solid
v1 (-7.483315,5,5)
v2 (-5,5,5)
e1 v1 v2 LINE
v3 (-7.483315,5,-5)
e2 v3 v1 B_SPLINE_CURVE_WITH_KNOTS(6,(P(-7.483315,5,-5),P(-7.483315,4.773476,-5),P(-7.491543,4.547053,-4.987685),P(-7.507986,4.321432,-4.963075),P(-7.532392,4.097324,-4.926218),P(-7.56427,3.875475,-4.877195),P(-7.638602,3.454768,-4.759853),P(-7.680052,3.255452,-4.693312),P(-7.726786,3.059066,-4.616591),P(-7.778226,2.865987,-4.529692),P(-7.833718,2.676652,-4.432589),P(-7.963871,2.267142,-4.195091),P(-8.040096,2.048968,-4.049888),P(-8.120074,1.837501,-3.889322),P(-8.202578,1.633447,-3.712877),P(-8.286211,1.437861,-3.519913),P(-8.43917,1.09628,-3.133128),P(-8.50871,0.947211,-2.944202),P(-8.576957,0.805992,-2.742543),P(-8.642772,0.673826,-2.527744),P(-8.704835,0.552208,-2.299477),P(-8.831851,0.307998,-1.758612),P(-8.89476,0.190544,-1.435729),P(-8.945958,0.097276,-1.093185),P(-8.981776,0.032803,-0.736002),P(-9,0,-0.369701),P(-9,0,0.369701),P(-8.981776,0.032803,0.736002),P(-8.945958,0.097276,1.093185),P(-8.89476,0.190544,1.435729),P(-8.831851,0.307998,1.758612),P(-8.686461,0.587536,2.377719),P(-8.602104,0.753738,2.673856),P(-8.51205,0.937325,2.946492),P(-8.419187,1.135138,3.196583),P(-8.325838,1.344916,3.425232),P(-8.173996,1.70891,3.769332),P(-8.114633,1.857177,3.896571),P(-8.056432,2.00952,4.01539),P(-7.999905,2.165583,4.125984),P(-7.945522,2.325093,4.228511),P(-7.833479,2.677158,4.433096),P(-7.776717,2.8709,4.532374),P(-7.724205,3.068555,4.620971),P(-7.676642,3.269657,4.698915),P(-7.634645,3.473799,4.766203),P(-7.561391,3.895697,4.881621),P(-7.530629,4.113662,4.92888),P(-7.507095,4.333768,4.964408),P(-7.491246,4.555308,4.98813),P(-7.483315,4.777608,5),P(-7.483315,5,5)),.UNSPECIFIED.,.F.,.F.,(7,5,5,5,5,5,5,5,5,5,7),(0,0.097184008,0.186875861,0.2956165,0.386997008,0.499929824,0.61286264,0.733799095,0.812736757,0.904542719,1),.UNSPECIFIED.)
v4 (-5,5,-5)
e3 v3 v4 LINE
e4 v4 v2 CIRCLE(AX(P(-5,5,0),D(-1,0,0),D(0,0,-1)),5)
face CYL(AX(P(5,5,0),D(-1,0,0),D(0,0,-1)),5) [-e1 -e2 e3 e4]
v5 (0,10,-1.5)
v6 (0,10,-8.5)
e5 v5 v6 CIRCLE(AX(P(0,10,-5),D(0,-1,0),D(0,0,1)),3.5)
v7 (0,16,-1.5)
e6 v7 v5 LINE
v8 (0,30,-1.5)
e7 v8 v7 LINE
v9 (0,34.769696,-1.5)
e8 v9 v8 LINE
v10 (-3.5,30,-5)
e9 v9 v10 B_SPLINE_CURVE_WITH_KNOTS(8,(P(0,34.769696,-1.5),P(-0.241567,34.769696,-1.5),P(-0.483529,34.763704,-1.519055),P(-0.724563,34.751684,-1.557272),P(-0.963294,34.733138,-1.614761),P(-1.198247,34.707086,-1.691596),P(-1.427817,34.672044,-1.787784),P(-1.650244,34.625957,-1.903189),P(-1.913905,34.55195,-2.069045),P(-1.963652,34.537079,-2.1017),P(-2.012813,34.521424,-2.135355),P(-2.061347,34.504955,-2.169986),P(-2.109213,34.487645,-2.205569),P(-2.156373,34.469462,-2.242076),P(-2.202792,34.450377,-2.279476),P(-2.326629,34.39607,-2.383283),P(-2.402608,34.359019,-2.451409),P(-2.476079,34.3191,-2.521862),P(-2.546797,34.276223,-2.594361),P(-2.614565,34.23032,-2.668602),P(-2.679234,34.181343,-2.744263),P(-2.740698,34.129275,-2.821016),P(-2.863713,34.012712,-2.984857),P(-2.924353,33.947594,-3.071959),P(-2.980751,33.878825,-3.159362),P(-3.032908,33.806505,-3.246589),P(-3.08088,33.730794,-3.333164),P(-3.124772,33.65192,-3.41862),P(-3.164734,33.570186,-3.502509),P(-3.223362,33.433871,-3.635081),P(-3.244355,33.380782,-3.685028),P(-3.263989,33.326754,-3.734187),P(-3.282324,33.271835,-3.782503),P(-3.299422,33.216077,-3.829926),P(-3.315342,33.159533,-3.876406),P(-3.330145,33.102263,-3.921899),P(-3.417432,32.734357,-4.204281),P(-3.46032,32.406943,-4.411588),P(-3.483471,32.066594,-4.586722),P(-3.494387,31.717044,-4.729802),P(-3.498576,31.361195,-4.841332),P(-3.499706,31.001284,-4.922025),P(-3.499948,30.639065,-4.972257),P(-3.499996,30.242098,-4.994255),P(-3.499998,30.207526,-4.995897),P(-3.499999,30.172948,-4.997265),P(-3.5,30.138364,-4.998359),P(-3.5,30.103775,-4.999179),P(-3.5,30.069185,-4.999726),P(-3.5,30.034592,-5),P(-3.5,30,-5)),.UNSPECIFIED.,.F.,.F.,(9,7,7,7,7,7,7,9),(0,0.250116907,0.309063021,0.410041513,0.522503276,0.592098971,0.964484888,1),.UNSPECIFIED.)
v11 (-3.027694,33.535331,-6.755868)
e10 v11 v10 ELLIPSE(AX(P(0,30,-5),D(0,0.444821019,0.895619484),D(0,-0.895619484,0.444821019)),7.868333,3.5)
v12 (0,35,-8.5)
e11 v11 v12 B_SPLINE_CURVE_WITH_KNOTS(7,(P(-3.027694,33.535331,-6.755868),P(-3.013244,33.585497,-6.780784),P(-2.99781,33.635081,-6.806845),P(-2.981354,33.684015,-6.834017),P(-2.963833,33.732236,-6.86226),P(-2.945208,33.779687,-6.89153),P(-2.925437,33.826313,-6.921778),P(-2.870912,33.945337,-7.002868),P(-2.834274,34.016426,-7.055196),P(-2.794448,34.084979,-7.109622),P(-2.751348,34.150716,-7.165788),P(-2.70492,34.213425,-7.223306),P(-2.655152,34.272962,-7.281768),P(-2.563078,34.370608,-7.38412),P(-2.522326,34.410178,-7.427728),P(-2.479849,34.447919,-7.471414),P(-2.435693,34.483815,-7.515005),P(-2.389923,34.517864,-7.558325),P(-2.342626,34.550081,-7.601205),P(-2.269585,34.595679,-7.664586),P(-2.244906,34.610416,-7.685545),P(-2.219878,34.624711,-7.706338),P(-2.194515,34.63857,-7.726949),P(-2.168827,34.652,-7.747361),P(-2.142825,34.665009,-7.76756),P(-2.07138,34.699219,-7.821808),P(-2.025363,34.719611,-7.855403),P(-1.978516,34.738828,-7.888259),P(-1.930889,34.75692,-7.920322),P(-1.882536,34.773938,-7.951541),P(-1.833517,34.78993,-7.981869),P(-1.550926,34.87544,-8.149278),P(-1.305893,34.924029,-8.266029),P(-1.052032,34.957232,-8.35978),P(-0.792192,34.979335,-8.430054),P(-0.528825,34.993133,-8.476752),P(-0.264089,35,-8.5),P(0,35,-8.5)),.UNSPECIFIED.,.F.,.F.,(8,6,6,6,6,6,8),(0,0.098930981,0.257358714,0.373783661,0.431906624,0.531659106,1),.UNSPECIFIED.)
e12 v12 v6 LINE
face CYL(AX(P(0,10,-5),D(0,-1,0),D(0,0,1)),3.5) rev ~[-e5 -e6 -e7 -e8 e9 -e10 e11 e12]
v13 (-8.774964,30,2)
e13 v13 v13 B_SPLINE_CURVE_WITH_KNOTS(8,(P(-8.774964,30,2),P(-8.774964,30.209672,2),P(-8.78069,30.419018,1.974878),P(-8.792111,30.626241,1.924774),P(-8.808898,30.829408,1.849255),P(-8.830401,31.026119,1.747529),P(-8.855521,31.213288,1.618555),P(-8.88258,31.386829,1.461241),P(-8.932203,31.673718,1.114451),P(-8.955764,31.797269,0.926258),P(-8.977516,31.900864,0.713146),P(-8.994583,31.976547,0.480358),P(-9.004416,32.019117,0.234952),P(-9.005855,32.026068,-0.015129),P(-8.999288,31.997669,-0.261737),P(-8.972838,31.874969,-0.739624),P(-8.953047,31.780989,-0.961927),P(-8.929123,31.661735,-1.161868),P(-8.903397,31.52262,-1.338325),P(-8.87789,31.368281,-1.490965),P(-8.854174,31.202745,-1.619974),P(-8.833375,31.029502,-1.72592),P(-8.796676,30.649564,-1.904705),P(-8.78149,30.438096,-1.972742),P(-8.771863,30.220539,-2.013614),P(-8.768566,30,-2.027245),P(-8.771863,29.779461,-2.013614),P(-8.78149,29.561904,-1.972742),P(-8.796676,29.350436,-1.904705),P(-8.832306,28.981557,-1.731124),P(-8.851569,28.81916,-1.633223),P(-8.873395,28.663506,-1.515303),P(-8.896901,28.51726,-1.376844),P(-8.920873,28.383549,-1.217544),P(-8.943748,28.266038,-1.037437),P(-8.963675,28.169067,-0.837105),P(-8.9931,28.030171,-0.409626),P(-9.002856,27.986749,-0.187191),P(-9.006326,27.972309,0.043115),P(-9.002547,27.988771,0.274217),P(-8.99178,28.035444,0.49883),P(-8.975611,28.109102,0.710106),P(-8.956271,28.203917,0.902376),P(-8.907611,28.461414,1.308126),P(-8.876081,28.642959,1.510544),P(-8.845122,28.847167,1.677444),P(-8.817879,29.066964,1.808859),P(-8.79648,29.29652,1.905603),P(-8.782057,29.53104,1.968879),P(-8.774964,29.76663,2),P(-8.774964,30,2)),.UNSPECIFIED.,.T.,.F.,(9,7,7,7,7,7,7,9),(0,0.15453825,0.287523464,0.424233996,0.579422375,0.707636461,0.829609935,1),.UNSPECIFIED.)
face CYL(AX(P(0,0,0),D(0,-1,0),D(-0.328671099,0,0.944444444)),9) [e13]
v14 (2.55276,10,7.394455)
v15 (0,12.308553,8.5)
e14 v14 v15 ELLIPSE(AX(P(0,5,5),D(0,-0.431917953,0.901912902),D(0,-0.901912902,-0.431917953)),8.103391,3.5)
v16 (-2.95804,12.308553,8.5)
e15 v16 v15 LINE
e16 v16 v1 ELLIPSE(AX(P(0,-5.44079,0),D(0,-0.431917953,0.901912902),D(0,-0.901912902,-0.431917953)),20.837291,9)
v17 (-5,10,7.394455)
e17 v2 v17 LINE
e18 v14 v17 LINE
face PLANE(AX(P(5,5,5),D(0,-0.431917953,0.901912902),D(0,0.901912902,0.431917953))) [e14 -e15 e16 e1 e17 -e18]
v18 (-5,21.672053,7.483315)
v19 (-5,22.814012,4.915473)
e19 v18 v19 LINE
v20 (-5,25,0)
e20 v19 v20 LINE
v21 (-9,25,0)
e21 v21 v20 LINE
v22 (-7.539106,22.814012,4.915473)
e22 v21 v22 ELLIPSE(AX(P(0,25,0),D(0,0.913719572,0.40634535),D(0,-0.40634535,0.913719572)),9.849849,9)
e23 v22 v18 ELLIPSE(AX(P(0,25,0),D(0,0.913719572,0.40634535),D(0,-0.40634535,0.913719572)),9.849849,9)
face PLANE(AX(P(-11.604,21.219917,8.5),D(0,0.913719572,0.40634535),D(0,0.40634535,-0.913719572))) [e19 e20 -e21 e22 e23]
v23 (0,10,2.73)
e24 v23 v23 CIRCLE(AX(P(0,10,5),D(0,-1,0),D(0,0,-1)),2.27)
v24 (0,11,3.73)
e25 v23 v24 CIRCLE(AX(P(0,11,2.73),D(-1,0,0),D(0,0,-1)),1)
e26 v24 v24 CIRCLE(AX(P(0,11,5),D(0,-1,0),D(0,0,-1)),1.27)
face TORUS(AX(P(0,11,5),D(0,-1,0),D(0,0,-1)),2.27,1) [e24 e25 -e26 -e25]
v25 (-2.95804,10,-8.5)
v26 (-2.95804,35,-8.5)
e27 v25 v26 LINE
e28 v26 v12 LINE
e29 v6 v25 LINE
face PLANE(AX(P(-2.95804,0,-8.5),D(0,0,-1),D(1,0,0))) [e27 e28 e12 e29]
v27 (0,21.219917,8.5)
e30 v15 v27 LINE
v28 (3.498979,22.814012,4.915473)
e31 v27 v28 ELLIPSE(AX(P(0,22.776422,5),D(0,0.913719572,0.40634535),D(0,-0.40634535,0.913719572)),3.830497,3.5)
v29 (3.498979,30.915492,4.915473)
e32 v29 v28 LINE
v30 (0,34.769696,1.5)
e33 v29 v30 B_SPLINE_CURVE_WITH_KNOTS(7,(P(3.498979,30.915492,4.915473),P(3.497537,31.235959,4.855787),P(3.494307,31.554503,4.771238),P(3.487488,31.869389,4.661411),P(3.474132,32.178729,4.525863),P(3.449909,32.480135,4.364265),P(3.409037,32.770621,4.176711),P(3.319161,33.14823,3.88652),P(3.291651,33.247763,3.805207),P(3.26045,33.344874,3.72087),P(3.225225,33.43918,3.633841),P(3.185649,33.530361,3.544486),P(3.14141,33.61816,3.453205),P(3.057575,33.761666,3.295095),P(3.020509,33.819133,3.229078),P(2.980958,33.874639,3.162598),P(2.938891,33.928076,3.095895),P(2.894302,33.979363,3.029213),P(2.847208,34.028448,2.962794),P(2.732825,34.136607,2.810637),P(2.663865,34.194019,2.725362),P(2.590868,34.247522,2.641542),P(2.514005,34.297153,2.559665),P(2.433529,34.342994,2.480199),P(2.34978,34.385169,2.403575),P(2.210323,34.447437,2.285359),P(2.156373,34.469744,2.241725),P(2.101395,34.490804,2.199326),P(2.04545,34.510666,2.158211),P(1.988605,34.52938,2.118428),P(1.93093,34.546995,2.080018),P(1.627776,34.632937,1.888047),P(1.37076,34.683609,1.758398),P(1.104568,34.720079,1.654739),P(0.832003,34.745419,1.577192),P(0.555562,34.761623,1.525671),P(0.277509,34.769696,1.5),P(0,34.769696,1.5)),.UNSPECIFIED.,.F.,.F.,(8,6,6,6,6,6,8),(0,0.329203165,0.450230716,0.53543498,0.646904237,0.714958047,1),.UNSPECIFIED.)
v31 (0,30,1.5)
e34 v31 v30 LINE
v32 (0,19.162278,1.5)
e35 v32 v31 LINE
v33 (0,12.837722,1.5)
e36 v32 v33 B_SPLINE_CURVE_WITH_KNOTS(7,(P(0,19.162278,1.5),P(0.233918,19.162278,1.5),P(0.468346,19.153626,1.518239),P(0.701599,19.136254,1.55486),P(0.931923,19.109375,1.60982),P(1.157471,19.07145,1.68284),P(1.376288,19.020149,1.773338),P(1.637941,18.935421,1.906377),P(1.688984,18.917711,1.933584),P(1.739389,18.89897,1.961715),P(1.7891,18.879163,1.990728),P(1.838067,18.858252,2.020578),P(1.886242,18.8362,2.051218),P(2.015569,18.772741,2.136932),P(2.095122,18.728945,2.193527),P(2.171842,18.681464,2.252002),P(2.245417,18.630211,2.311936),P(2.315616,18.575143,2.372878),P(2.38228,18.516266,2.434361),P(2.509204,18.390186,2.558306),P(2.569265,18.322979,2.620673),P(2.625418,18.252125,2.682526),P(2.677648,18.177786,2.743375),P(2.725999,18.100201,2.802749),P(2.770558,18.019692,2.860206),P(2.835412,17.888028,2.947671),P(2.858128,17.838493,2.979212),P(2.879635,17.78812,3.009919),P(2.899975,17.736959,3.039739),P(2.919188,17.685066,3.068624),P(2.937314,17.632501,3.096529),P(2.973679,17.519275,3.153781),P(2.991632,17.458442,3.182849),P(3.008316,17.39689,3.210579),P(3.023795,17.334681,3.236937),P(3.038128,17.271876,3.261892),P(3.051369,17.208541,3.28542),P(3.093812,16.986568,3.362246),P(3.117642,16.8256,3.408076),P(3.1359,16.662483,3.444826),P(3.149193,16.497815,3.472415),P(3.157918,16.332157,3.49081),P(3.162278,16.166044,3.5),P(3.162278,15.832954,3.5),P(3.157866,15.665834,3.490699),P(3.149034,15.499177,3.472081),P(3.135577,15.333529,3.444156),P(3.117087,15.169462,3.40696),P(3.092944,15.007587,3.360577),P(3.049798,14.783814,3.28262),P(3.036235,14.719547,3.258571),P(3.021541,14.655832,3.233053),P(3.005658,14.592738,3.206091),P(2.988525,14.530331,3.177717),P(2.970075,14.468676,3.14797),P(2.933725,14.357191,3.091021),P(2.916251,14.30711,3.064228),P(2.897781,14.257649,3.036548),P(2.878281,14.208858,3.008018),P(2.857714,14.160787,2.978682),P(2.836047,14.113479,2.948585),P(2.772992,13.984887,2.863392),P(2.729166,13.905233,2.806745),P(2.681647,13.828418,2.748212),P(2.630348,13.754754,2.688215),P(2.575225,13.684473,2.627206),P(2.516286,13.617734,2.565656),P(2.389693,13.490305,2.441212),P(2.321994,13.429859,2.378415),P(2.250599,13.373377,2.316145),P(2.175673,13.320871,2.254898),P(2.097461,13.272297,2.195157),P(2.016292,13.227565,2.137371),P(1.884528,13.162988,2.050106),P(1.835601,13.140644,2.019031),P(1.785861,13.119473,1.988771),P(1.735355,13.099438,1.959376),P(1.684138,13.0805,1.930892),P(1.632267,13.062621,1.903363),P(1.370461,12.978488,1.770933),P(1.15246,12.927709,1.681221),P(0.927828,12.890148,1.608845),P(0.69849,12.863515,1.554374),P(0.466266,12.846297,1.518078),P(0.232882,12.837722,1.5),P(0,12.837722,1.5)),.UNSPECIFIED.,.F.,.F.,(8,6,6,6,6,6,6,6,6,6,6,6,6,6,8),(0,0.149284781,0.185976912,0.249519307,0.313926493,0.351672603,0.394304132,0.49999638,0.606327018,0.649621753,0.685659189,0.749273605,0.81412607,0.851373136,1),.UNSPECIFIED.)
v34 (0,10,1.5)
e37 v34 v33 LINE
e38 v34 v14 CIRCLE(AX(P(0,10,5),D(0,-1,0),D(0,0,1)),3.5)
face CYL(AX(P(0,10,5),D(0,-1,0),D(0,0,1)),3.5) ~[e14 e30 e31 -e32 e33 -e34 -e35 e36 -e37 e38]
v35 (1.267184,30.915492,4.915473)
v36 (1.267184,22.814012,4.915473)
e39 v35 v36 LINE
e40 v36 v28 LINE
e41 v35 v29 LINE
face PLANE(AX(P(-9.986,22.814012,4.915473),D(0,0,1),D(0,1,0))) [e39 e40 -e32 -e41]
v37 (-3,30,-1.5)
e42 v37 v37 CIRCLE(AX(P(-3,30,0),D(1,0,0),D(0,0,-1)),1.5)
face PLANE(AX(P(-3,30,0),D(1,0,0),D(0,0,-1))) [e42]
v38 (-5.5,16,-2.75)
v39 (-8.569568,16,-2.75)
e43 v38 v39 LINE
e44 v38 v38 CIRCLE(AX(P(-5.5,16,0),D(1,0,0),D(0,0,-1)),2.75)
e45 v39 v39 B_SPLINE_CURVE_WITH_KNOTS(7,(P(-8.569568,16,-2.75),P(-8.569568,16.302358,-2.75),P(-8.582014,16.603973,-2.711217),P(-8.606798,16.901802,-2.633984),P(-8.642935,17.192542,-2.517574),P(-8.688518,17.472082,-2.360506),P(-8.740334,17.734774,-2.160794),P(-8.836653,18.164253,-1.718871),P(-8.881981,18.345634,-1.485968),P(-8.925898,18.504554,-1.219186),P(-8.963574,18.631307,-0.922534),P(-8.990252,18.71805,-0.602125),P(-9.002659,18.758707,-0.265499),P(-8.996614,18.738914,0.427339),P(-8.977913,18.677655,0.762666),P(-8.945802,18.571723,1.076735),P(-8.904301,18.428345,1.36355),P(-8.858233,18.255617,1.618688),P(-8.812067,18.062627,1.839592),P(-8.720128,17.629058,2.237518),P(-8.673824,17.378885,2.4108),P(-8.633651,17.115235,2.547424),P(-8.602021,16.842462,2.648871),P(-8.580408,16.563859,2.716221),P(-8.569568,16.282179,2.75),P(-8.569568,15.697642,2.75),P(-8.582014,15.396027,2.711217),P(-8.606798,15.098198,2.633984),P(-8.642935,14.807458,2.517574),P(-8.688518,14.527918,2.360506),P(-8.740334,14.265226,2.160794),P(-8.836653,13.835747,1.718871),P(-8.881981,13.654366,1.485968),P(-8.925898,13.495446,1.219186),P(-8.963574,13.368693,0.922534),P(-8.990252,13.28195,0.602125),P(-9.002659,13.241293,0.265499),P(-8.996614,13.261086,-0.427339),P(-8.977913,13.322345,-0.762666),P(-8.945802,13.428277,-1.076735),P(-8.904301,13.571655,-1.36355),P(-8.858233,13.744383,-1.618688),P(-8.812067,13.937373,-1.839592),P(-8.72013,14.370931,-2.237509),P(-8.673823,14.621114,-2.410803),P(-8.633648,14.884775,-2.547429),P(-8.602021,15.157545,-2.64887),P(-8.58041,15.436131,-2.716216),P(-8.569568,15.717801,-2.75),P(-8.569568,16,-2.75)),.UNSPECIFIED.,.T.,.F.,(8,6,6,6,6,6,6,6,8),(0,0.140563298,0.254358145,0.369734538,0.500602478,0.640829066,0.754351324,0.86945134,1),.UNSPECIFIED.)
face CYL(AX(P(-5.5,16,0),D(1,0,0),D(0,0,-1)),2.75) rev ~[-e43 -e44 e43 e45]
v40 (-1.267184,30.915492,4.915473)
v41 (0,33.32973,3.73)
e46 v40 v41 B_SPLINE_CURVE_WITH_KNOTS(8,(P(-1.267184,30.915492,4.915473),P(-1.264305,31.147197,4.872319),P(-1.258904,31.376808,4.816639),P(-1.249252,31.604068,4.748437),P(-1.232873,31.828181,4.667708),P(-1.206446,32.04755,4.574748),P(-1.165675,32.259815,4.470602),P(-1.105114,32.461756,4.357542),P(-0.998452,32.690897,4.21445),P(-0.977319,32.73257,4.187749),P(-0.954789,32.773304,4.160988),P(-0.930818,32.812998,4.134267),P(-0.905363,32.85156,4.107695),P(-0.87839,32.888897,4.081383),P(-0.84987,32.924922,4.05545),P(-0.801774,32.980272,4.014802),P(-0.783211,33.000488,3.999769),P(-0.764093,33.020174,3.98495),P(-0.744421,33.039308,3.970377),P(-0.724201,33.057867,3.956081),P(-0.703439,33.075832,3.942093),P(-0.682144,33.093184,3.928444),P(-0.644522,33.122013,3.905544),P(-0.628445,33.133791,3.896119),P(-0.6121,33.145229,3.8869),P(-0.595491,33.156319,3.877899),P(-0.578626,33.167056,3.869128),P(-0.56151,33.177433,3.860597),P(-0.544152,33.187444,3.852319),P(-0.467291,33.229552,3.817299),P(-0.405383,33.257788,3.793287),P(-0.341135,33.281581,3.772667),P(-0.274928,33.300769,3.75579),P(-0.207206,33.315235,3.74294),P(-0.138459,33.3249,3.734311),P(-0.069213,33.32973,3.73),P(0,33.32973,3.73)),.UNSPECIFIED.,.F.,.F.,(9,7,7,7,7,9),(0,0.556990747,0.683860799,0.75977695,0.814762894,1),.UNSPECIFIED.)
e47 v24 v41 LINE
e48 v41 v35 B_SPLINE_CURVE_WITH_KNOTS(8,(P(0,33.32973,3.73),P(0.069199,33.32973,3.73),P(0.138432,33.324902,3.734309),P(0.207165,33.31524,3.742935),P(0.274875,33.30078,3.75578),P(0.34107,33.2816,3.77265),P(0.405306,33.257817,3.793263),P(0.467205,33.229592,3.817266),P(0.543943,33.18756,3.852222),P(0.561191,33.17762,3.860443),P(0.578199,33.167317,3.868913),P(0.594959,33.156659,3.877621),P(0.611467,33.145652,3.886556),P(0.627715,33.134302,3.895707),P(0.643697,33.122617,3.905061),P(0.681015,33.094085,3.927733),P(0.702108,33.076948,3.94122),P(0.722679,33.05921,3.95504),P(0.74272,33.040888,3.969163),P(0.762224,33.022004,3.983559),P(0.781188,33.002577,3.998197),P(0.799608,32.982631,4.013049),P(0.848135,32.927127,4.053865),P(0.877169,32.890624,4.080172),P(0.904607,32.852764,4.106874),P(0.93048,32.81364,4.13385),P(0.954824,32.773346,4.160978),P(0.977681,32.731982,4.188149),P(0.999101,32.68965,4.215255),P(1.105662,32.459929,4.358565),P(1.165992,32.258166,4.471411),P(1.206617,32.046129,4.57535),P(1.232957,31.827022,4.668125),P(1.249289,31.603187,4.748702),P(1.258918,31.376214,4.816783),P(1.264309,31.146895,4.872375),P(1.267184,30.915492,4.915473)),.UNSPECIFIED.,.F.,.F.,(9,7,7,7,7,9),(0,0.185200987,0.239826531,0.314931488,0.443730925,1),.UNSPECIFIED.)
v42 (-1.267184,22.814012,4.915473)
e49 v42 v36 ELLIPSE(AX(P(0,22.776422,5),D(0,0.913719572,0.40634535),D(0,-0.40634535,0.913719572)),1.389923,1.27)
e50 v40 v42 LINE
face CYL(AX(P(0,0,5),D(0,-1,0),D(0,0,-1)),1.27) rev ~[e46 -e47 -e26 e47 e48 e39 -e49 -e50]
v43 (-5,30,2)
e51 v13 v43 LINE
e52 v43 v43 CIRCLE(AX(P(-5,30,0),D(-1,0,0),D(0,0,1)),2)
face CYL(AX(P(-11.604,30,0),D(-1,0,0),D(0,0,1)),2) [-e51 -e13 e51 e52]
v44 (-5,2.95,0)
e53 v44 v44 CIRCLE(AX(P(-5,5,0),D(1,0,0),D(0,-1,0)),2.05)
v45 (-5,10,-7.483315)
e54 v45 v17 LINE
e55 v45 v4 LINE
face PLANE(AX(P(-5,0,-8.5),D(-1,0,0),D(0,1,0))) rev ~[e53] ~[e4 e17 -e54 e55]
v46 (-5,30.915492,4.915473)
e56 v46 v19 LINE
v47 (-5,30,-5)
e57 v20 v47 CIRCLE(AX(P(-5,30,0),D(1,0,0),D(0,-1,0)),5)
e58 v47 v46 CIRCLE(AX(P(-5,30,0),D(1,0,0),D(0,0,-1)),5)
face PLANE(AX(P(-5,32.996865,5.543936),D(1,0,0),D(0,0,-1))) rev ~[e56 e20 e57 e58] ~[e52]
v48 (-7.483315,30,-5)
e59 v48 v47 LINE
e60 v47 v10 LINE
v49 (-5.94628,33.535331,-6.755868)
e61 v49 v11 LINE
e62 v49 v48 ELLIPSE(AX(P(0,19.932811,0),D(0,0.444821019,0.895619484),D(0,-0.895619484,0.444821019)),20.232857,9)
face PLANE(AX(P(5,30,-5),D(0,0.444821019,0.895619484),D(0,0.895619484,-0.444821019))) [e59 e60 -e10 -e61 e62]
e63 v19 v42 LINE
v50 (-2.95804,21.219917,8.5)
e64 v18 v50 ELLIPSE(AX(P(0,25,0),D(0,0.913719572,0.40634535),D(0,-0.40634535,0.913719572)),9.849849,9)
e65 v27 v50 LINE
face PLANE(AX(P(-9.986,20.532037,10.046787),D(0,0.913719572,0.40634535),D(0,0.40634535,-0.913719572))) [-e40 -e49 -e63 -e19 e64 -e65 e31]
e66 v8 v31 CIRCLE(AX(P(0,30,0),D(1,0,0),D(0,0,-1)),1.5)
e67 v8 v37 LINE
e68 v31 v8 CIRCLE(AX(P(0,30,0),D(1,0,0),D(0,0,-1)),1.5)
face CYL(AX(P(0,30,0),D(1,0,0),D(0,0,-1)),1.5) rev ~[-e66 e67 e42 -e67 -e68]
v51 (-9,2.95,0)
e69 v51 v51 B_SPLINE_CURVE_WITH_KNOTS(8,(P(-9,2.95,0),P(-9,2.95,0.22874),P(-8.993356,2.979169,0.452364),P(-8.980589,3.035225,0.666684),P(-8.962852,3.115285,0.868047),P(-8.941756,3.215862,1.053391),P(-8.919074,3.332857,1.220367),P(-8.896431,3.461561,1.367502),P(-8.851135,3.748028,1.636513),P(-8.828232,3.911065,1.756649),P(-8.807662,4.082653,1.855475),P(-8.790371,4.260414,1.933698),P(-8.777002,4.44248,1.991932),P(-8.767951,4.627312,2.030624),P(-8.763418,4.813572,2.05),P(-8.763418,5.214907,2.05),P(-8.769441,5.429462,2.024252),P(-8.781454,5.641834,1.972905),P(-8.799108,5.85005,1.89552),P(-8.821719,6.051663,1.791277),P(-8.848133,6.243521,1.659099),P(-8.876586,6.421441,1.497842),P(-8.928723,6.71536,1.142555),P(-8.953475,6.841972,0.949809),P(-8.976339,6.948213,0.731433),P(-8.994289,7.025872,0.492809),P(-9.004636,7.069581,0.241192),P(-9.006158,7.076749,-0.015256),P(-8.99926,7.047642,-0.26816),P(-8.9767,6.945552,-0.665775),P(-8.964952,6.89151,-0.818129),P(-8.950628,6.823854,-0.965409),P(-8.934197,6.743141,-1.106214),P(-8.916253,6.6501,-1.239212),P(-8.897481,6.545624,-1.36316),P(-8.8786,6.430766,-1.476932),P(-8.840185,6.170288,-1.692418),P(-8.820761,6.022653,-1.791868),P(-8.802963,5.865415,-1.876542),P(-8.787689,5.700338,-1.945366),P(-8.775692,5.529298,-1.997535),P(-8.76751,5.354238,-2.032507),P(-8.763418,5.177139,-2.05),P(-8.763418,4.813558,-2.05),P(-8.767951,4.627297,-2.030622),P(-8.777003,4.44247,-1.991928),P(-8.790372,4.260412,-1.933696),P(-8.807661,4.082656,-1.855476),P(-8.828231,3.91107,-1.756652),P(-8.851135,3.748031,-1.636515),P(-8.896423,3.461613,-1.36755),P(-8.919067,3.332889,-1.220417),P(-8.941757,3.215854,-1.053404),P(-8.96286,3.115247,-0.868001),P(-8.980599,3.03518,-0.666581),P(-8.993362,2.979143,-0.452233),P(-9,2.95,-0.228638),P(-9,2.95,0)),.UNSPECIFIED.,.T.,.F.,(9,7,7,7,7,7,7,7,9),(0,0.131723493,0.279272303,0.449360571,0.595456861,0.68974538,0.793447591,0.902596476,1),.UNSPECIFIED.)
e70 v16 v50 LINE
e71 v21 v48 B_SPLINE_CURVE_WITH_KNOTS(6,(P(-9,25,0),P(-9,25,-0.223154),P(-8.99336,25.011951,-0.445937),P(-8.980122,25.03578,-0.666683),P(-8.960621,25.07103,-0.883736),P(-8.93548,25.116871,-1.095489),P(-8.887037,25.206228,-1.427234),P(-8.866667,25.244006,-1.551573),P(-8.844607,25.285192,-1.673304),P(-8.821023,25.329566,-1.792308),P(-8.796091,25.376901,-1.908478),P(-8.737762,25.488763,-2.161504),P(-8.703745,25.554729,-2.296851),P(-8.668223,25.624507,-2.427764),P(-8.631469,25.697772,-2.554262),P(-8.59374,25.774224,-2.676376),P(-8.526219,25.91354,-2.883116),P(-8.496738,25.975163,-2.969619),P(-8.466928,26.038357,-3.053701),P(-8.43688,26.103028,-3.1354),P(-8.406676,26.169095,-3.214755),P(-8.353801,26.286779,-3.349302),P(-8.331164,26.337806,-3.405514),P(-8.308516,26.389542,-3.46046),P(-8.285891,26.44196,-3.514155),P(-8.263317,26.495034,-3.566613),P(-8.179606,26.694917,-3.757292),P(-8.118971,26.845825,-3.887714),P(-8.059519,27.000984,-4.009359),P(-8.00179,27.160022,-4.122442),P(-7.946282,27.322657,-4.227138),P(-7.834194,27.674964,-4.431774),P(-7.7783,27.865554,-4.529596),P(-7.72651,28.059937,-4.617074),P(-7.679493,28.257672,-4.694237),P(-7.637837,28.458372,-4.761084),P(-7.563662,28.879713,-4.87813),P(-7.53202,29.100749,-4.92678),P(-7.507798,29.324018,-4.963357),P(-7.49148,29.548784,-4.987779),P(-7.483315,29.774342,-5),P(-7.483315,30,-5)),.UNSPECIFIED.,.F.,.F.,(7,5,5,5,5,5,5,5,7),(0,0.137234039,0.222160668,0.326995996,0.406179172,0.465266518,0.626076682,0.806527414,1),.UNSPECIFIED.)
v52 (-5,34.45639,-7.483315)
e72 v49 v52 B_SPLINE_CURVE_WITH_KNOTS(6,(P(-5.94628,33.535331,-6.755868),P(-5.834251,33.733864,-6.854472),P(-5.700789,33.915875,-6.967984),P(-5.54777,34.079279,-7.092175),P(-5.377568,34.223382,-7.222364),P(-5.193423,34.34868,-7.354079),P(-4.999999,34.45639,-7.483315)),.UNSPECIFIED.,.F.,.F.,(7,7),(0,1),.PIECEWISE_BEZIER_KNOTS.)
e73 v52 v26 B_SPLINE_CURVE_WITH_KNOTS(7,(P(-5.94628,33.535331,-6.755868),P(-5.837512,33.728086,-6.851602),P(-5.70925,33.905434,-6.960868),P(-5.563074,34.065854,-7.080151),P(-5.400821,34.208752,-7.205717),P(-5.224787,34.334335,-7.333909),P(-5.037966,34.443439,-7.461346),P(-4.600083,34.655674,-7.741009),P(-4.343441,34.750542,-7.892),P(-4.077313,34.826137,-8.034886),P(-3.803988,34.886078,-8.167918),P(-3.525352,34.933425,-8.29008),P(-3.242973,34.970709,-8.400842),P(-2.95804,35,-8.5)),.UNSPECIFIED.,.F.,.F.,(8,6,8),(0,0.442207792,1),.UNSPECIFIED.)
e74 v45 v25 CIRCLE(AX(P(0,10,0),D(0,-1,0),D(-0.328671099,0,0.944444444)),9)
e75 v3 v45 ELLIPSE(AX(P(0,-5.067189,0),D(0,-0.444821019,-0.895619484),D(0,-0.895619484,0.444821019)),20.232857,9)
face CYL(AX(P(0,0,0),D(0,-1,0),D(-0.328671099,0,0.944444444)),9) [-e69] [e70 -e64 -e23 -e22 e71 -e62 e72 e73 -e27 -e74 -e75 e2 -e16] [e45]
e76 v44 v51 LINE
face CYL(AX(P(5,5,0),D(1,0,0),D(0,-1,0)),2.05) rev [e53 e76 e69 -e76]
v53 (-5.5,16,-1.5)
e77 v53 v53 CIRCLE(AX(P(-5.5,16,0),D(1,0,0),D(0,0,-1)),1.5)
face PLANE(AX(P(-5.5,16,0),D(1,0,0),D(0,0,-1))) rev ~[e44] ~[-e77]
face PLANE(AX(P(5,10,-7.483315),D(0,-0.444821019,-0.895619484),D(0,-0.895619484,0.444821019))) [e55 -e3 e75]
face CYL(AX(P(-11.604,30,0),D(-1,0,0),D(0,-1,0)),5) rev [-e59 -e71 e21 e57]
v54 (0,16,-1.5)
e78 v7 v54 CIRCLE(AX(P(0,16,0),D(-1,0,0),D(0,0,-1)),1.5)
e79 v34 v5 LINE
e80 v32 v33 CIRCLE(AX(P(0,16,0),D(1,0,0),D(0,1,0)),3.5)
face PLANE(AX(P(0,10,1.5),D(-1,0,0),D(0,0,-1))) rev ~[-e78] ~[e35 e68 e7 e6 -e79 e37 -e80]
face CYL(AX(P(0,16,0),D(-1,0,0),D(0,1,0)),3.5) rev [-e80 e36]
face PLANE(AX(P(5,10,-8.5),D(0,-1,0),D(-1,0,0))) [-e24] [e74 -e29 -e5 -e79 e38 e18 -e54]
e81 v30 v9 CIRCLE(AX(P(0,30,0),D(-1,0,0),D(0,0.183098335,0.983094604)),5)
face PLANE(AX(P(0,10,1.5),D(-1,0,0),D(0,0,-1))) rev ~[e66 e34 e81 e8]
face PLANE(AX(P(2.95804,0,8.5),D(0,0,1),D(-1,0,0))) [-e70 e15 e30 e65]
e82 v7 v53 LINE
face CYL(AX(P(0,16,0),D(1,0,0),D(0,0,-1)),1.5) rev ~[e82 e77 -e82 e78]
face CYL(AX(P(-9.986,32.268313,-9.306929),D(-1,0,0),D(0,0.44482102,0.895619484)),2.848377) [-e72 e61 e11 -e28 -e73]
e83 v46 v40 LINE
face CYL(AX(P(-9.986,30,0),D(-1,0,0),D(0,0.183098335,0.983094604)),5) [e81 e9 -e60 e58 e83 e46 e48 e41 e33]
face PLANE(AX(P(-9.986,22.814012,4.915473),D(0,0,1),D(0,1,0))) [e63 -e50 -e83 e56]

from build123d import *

# Parameters (mm, degrees)
BOSS_EXTRUDE1_DEPTH = 35
SKETCH2_R           = 1.27
CUT_EXTRUDE1_DEPTH  = 35
CUT_EXTRUDE2_REACH  = 41.937
SKETCH3_W           = 10
SKETCH3_H           = 10
SKETCH4_R           = 2.049999964
CUT_EXTRUDE3_DEPTH  = 17.5
CUT_EXTRUDE5_START  = -7.95804
SKETCH6_R           = 2
CUT_EXTRUDE5_DEPTH  = 9.6
FILLET3_R           = 1
CUT_EXTRUDE6_START  = 8.64596
SKETCH6_3_R         = 2
CUT_EXTRUDE6_DEPTH  = 6.604
CUT_EXTRUDE7_START  = -14.986
CUT_EXTRUDE7_DEPTH  = 14.986
CUT_EXTRUDE8_DEPTH  = 31.496
SKETCH9_R           = 1.5
CUT_EXTRUDE9_DEPTH  = 14.224
CUT_EXTRUDE11_DEPTH = 6.048
SKETCH13_R          = 1.5
CUT_EXTRUDE12_DEPTH = 3
CUT_EXTRUDE13_START = -5.5
SKETCH15_R          = 2.75
CUT_EXTRUDE13_DEPTH = 7.572


with BuildPart() as part:
    # Sketch1 → Boss-Extrude1 (new body)
    with BuildSketch(Plane(origin=(0, 0, 0), x_dir=(1, 0, 0), z_dir=(0, 1, 0))):
        with BuildLine():
            Line((-2.958039892, 8.5), (2.958039892, 8.5))
            ThreePointArc((2.958039892, 8.5), (9, 0), (2.958039892, -8.5))
            Line((2.958039892, -8.5), (-2.958039892, -8.5))
            ThreePointArc((-2.958039892, -8.5), (-9, 0), (-2.958039892, 8.5))
        make_face()
    extrude(amount=BOSS_EXTRUDE1_DEPTH)

    # Sketch2 → Cut-Extrude1 (cut)
    with BuildSketch(Plane.XZ):
        with Locations(Location((0, -5, 0), (0, 0, 270))):
            Circle(SKETCH2_R)
        with Locations(Location((0, 5, 0), (0, 0, 270))):
            Circle(SKETCH2_R)
    extrude(amount=-CUT_EXTRUDE1_DEPTH, mode=Mode.SUBTRACT)

    # Cut-Extrude2: up to this face of the body (flat: up to its plane)
    cut_extrude2_end = Plane(part.part.faces().sort_by_distance((0, 17.5, 8.5))[0])
    # Sketch3 → Cut-Extrude2 (cut, up to the picked face)
    with BuildSketch(Plane(origin=(0, 0, -8.5), x_dir=(-1, 0, 0), z_dir=(0, 0, -1)), mode=Mode.PRIVATE) as cut_extrude2_sk1:
        with Locations((0, 5)):
            Rectangle(SKETCH3_W, SKETCH3_H)
    cut_extrude2_tool1 = split(extrude(cut_extrude2_sk1.sketch, amount=-CUT_EXTRUDE2_REACH, mode=Mode.PRIVATE), bisect_by=cut_extrude2_end, keep=Keep.BOTH, mode=Mode.PRIVATE)
    add(cut_extrude2_tool1.solids().sort_by(Axis((0, 5, -8.5), (0, 0, 1)))[0], mode=Mode.SUBTRACT)

    # Sketch4 → Cut-Extrude3 (cut, symmetric)
    with BuildSketch(Plane.ZY.offset(-5)):
        with Locations(Location((0, 5, 0), (0, 0, 270))):
            Circle(SKETCH4_R)
        with BuildLine():
            Line((-7.483314774, 10), (-5, 5))
            ThreePointArc((-5, 5), (0, 0), (5, 5))
            Line((5, 5), (8.5, 12.308552788))
            Line((8.5, 12.308552788), (9.857943437, -1.822240199))
            Line((9.857943437, -1.822240199), (-9.857943437, -1.822240199))
            Line((-9.857943437, -1.822240199), (-7.483314774, 10))
        make_face()
    extrude(amount=CUT_EXTRUDE3_DEPTH, both=True, mode=Mode.SUBTRACT)

    # Sketch6 → Cut-Extrude5 (cut)
    with BuildSketch(Plane.ZY.offset(2.958039892).offset(CUT_EXTRUDE5_START)):
        with BuildLine():
            Line((8.5, 21.219917379), (0, 25))
            ThreePointArc((0, 25), (-3.535533906, 26.464466094), (-5, 30))
            Line((-5, 30), (-6.755867779, 33.535330675))
            ThreePointArc((-6.755867779, 33.535330675), (-7.475170692, 34.449576169), (-8.5, 35))
            Line((-8.5, 35), (17.803004008, 42.886049022))
            Line((17.803004008, 42.886049022), (8.5, 21.219917379))
        make_face()
        with Locations((0, 30)):
            Circle(SKETCH6_R, mode=Mode.SUBTRACT)
    extrude(amount=-CUT_EXTRUDE5_DEPTH, mode=Mode.SUBTRACT)

    # Fillet3
    fillet3_edges = [part.edges().sort_by_distance(p)[0] for p in [
        (0, 10, -3.73),
        (0, 10, 6.27),
    ]]
    fillet(fillet3_edges, radius=FILLET3_R)

    # Sketch6<3> → Cut-Extrude6 (cut)
    with BuildSketch(Plane.ZY.offset(2.958039892).offset(CUT_EXTRUDE6_START)):
        with BuildLine():
            Line((8.5, 21.219917379), (0, 25))
            ThreePointArc((0, 25), (-3.535533906, 26.464466094), (-5, 30))
            Line((-5, 30), (-6.755867779, 33.535330675))
            ThreePointArc((-6.755867779, 33.535330675), (-7.475170692, 34.449576169), (-8.5, 35))
            Line((-8.5, 35), (17.803004008, 42.886049022))
            Line((17.803004008, 42.886049022), (8.5, 21.219917379))
        make_face()
        with Locations((0, 30)):
            Circle(SKETCH6_3_R, mode=Mode.SUBTRACT)
    extrude(amount=-CUT_EXTRUDE6_DEPTH, mode=Mode.SUBTRACT)

    # Sketch7 → Cut-Extrude7 (cut)
    with BuildSketch(Plane(origin=(5, 0, 0), x_dir=(0, 0, -1), z_dir=(1, 0, 0)).offset(CUT_EXTRUDE7_START)):
        with BuildLine():
            Line((5, 30), (6.755867779, 33.535330675))
            ThreePointArc((6.755867779, 33.535330675), (7.475170692, 34.449576169), (8.5, 35))
            Line((8.5, 35), (-8.341946035, 47.536710192))
            Line((-8.341946035, 47.536710192), (-13.168237897, 33.528506419))
            Line((-13.168237897, 33.528506419), (-10.04678731, 20.532036929))
            Line((-10.04678731, 20.532036929), (-4.915473018, 22.814012455))
            Line((-4.915473018, 22.814012455), (-4.915473018, 30.915491676))
            ThreePointArc((-4.915473018, 30.915491676), (0.459692783, 34.97882341), (5, 30))
        make_face()
    extrude(amount=CUT_EXTRUDE7_DEPTH, mode=Mode.SUBTRACT)

    # Sketch8 → Cut-Extrude8 (cut, symmetric)
    with BuildSketch(Plane.XZ.offset(-10)):
        with BuildLine():
            Line((0, 1.5), (0, -1.5))
            ThreePointArc((0, -1.5), (-3.5, -5), (0, -8.5))
            Line((0, -8.5), (-4.790142834, -16.013604782))
            Line((-4.790142834, -16.013604782), (34.96476625, -1.5))
            Line((34.96476625, -1.5), (-4.790142834, 15.219000931))
            Line((-4.790142834, 15.219000931), (0, 8.5))
            ThreePointArc((0, 8.5), (3.5, 5), (0, 1.5))
        make_face()
    extrude(amount=CUT_EXTRUDE8_DEPTH, both=True, mode=Mode.SUBTRACT)

    # Sketch9 → Cut-Extrude9 (cut)
    with BuildSketch(Plane(origin=(0, 0, 0), x_dir=(0, 0, -1), z_dir=(1, 0, 0))):
        with Locations((0, 16)):
            Circle(SKETCH9_R)
    extrude(amount=-CUT_EXTRUDE9_DEPTH, mode=Mode.SUBTRACT)

    # Sketch14 → Cut-Extrude11 (cut)
    with BuildSketch(Plane(origin=(0, 0, 0), x_dir=(0, 0, -1), z_dir=(1, 0, 0))):
        with BuildLine():
            Line((0, 12.5), (0, 19.5))
            ThreePointArc((0, 19.5), (-3.5, 16), (0, 12.5))
        make_face()
    extrude(amount=CUT_EXTRUDE11_DEPTH, mode=Mode.SUBTRACT)

    # Sketch13 → Cut-Extrude12 (cut)
    with BuildSketch(Plane(origin=(0, 0, 0), x_dir=(0, 0, -1), z_dir=(1, 0, 0))):
        with Locations((0, 30)):
            Circle(SKETCH13_R)
    extrude(amount=-CUT_EXTRUDE12_DEPTH, mode=Mode.SUBTRACT)

    # Sketch15 → Cut-Extrude13 (cut)
    with BuildSketch(Plane(origin=(0, 0, 0), x_dir=(0, 0, -1), z_dir=(1, 0, 0)).offset(CUT_EXTRUDE13_START)):
        with Locations((0, 16)):
            Circle(SKETCH15_R)
    extrude(amount=-CUT_EXTRUDE13_DEPTH, mode=Mode.SUBTRACT)


solid = part.part
